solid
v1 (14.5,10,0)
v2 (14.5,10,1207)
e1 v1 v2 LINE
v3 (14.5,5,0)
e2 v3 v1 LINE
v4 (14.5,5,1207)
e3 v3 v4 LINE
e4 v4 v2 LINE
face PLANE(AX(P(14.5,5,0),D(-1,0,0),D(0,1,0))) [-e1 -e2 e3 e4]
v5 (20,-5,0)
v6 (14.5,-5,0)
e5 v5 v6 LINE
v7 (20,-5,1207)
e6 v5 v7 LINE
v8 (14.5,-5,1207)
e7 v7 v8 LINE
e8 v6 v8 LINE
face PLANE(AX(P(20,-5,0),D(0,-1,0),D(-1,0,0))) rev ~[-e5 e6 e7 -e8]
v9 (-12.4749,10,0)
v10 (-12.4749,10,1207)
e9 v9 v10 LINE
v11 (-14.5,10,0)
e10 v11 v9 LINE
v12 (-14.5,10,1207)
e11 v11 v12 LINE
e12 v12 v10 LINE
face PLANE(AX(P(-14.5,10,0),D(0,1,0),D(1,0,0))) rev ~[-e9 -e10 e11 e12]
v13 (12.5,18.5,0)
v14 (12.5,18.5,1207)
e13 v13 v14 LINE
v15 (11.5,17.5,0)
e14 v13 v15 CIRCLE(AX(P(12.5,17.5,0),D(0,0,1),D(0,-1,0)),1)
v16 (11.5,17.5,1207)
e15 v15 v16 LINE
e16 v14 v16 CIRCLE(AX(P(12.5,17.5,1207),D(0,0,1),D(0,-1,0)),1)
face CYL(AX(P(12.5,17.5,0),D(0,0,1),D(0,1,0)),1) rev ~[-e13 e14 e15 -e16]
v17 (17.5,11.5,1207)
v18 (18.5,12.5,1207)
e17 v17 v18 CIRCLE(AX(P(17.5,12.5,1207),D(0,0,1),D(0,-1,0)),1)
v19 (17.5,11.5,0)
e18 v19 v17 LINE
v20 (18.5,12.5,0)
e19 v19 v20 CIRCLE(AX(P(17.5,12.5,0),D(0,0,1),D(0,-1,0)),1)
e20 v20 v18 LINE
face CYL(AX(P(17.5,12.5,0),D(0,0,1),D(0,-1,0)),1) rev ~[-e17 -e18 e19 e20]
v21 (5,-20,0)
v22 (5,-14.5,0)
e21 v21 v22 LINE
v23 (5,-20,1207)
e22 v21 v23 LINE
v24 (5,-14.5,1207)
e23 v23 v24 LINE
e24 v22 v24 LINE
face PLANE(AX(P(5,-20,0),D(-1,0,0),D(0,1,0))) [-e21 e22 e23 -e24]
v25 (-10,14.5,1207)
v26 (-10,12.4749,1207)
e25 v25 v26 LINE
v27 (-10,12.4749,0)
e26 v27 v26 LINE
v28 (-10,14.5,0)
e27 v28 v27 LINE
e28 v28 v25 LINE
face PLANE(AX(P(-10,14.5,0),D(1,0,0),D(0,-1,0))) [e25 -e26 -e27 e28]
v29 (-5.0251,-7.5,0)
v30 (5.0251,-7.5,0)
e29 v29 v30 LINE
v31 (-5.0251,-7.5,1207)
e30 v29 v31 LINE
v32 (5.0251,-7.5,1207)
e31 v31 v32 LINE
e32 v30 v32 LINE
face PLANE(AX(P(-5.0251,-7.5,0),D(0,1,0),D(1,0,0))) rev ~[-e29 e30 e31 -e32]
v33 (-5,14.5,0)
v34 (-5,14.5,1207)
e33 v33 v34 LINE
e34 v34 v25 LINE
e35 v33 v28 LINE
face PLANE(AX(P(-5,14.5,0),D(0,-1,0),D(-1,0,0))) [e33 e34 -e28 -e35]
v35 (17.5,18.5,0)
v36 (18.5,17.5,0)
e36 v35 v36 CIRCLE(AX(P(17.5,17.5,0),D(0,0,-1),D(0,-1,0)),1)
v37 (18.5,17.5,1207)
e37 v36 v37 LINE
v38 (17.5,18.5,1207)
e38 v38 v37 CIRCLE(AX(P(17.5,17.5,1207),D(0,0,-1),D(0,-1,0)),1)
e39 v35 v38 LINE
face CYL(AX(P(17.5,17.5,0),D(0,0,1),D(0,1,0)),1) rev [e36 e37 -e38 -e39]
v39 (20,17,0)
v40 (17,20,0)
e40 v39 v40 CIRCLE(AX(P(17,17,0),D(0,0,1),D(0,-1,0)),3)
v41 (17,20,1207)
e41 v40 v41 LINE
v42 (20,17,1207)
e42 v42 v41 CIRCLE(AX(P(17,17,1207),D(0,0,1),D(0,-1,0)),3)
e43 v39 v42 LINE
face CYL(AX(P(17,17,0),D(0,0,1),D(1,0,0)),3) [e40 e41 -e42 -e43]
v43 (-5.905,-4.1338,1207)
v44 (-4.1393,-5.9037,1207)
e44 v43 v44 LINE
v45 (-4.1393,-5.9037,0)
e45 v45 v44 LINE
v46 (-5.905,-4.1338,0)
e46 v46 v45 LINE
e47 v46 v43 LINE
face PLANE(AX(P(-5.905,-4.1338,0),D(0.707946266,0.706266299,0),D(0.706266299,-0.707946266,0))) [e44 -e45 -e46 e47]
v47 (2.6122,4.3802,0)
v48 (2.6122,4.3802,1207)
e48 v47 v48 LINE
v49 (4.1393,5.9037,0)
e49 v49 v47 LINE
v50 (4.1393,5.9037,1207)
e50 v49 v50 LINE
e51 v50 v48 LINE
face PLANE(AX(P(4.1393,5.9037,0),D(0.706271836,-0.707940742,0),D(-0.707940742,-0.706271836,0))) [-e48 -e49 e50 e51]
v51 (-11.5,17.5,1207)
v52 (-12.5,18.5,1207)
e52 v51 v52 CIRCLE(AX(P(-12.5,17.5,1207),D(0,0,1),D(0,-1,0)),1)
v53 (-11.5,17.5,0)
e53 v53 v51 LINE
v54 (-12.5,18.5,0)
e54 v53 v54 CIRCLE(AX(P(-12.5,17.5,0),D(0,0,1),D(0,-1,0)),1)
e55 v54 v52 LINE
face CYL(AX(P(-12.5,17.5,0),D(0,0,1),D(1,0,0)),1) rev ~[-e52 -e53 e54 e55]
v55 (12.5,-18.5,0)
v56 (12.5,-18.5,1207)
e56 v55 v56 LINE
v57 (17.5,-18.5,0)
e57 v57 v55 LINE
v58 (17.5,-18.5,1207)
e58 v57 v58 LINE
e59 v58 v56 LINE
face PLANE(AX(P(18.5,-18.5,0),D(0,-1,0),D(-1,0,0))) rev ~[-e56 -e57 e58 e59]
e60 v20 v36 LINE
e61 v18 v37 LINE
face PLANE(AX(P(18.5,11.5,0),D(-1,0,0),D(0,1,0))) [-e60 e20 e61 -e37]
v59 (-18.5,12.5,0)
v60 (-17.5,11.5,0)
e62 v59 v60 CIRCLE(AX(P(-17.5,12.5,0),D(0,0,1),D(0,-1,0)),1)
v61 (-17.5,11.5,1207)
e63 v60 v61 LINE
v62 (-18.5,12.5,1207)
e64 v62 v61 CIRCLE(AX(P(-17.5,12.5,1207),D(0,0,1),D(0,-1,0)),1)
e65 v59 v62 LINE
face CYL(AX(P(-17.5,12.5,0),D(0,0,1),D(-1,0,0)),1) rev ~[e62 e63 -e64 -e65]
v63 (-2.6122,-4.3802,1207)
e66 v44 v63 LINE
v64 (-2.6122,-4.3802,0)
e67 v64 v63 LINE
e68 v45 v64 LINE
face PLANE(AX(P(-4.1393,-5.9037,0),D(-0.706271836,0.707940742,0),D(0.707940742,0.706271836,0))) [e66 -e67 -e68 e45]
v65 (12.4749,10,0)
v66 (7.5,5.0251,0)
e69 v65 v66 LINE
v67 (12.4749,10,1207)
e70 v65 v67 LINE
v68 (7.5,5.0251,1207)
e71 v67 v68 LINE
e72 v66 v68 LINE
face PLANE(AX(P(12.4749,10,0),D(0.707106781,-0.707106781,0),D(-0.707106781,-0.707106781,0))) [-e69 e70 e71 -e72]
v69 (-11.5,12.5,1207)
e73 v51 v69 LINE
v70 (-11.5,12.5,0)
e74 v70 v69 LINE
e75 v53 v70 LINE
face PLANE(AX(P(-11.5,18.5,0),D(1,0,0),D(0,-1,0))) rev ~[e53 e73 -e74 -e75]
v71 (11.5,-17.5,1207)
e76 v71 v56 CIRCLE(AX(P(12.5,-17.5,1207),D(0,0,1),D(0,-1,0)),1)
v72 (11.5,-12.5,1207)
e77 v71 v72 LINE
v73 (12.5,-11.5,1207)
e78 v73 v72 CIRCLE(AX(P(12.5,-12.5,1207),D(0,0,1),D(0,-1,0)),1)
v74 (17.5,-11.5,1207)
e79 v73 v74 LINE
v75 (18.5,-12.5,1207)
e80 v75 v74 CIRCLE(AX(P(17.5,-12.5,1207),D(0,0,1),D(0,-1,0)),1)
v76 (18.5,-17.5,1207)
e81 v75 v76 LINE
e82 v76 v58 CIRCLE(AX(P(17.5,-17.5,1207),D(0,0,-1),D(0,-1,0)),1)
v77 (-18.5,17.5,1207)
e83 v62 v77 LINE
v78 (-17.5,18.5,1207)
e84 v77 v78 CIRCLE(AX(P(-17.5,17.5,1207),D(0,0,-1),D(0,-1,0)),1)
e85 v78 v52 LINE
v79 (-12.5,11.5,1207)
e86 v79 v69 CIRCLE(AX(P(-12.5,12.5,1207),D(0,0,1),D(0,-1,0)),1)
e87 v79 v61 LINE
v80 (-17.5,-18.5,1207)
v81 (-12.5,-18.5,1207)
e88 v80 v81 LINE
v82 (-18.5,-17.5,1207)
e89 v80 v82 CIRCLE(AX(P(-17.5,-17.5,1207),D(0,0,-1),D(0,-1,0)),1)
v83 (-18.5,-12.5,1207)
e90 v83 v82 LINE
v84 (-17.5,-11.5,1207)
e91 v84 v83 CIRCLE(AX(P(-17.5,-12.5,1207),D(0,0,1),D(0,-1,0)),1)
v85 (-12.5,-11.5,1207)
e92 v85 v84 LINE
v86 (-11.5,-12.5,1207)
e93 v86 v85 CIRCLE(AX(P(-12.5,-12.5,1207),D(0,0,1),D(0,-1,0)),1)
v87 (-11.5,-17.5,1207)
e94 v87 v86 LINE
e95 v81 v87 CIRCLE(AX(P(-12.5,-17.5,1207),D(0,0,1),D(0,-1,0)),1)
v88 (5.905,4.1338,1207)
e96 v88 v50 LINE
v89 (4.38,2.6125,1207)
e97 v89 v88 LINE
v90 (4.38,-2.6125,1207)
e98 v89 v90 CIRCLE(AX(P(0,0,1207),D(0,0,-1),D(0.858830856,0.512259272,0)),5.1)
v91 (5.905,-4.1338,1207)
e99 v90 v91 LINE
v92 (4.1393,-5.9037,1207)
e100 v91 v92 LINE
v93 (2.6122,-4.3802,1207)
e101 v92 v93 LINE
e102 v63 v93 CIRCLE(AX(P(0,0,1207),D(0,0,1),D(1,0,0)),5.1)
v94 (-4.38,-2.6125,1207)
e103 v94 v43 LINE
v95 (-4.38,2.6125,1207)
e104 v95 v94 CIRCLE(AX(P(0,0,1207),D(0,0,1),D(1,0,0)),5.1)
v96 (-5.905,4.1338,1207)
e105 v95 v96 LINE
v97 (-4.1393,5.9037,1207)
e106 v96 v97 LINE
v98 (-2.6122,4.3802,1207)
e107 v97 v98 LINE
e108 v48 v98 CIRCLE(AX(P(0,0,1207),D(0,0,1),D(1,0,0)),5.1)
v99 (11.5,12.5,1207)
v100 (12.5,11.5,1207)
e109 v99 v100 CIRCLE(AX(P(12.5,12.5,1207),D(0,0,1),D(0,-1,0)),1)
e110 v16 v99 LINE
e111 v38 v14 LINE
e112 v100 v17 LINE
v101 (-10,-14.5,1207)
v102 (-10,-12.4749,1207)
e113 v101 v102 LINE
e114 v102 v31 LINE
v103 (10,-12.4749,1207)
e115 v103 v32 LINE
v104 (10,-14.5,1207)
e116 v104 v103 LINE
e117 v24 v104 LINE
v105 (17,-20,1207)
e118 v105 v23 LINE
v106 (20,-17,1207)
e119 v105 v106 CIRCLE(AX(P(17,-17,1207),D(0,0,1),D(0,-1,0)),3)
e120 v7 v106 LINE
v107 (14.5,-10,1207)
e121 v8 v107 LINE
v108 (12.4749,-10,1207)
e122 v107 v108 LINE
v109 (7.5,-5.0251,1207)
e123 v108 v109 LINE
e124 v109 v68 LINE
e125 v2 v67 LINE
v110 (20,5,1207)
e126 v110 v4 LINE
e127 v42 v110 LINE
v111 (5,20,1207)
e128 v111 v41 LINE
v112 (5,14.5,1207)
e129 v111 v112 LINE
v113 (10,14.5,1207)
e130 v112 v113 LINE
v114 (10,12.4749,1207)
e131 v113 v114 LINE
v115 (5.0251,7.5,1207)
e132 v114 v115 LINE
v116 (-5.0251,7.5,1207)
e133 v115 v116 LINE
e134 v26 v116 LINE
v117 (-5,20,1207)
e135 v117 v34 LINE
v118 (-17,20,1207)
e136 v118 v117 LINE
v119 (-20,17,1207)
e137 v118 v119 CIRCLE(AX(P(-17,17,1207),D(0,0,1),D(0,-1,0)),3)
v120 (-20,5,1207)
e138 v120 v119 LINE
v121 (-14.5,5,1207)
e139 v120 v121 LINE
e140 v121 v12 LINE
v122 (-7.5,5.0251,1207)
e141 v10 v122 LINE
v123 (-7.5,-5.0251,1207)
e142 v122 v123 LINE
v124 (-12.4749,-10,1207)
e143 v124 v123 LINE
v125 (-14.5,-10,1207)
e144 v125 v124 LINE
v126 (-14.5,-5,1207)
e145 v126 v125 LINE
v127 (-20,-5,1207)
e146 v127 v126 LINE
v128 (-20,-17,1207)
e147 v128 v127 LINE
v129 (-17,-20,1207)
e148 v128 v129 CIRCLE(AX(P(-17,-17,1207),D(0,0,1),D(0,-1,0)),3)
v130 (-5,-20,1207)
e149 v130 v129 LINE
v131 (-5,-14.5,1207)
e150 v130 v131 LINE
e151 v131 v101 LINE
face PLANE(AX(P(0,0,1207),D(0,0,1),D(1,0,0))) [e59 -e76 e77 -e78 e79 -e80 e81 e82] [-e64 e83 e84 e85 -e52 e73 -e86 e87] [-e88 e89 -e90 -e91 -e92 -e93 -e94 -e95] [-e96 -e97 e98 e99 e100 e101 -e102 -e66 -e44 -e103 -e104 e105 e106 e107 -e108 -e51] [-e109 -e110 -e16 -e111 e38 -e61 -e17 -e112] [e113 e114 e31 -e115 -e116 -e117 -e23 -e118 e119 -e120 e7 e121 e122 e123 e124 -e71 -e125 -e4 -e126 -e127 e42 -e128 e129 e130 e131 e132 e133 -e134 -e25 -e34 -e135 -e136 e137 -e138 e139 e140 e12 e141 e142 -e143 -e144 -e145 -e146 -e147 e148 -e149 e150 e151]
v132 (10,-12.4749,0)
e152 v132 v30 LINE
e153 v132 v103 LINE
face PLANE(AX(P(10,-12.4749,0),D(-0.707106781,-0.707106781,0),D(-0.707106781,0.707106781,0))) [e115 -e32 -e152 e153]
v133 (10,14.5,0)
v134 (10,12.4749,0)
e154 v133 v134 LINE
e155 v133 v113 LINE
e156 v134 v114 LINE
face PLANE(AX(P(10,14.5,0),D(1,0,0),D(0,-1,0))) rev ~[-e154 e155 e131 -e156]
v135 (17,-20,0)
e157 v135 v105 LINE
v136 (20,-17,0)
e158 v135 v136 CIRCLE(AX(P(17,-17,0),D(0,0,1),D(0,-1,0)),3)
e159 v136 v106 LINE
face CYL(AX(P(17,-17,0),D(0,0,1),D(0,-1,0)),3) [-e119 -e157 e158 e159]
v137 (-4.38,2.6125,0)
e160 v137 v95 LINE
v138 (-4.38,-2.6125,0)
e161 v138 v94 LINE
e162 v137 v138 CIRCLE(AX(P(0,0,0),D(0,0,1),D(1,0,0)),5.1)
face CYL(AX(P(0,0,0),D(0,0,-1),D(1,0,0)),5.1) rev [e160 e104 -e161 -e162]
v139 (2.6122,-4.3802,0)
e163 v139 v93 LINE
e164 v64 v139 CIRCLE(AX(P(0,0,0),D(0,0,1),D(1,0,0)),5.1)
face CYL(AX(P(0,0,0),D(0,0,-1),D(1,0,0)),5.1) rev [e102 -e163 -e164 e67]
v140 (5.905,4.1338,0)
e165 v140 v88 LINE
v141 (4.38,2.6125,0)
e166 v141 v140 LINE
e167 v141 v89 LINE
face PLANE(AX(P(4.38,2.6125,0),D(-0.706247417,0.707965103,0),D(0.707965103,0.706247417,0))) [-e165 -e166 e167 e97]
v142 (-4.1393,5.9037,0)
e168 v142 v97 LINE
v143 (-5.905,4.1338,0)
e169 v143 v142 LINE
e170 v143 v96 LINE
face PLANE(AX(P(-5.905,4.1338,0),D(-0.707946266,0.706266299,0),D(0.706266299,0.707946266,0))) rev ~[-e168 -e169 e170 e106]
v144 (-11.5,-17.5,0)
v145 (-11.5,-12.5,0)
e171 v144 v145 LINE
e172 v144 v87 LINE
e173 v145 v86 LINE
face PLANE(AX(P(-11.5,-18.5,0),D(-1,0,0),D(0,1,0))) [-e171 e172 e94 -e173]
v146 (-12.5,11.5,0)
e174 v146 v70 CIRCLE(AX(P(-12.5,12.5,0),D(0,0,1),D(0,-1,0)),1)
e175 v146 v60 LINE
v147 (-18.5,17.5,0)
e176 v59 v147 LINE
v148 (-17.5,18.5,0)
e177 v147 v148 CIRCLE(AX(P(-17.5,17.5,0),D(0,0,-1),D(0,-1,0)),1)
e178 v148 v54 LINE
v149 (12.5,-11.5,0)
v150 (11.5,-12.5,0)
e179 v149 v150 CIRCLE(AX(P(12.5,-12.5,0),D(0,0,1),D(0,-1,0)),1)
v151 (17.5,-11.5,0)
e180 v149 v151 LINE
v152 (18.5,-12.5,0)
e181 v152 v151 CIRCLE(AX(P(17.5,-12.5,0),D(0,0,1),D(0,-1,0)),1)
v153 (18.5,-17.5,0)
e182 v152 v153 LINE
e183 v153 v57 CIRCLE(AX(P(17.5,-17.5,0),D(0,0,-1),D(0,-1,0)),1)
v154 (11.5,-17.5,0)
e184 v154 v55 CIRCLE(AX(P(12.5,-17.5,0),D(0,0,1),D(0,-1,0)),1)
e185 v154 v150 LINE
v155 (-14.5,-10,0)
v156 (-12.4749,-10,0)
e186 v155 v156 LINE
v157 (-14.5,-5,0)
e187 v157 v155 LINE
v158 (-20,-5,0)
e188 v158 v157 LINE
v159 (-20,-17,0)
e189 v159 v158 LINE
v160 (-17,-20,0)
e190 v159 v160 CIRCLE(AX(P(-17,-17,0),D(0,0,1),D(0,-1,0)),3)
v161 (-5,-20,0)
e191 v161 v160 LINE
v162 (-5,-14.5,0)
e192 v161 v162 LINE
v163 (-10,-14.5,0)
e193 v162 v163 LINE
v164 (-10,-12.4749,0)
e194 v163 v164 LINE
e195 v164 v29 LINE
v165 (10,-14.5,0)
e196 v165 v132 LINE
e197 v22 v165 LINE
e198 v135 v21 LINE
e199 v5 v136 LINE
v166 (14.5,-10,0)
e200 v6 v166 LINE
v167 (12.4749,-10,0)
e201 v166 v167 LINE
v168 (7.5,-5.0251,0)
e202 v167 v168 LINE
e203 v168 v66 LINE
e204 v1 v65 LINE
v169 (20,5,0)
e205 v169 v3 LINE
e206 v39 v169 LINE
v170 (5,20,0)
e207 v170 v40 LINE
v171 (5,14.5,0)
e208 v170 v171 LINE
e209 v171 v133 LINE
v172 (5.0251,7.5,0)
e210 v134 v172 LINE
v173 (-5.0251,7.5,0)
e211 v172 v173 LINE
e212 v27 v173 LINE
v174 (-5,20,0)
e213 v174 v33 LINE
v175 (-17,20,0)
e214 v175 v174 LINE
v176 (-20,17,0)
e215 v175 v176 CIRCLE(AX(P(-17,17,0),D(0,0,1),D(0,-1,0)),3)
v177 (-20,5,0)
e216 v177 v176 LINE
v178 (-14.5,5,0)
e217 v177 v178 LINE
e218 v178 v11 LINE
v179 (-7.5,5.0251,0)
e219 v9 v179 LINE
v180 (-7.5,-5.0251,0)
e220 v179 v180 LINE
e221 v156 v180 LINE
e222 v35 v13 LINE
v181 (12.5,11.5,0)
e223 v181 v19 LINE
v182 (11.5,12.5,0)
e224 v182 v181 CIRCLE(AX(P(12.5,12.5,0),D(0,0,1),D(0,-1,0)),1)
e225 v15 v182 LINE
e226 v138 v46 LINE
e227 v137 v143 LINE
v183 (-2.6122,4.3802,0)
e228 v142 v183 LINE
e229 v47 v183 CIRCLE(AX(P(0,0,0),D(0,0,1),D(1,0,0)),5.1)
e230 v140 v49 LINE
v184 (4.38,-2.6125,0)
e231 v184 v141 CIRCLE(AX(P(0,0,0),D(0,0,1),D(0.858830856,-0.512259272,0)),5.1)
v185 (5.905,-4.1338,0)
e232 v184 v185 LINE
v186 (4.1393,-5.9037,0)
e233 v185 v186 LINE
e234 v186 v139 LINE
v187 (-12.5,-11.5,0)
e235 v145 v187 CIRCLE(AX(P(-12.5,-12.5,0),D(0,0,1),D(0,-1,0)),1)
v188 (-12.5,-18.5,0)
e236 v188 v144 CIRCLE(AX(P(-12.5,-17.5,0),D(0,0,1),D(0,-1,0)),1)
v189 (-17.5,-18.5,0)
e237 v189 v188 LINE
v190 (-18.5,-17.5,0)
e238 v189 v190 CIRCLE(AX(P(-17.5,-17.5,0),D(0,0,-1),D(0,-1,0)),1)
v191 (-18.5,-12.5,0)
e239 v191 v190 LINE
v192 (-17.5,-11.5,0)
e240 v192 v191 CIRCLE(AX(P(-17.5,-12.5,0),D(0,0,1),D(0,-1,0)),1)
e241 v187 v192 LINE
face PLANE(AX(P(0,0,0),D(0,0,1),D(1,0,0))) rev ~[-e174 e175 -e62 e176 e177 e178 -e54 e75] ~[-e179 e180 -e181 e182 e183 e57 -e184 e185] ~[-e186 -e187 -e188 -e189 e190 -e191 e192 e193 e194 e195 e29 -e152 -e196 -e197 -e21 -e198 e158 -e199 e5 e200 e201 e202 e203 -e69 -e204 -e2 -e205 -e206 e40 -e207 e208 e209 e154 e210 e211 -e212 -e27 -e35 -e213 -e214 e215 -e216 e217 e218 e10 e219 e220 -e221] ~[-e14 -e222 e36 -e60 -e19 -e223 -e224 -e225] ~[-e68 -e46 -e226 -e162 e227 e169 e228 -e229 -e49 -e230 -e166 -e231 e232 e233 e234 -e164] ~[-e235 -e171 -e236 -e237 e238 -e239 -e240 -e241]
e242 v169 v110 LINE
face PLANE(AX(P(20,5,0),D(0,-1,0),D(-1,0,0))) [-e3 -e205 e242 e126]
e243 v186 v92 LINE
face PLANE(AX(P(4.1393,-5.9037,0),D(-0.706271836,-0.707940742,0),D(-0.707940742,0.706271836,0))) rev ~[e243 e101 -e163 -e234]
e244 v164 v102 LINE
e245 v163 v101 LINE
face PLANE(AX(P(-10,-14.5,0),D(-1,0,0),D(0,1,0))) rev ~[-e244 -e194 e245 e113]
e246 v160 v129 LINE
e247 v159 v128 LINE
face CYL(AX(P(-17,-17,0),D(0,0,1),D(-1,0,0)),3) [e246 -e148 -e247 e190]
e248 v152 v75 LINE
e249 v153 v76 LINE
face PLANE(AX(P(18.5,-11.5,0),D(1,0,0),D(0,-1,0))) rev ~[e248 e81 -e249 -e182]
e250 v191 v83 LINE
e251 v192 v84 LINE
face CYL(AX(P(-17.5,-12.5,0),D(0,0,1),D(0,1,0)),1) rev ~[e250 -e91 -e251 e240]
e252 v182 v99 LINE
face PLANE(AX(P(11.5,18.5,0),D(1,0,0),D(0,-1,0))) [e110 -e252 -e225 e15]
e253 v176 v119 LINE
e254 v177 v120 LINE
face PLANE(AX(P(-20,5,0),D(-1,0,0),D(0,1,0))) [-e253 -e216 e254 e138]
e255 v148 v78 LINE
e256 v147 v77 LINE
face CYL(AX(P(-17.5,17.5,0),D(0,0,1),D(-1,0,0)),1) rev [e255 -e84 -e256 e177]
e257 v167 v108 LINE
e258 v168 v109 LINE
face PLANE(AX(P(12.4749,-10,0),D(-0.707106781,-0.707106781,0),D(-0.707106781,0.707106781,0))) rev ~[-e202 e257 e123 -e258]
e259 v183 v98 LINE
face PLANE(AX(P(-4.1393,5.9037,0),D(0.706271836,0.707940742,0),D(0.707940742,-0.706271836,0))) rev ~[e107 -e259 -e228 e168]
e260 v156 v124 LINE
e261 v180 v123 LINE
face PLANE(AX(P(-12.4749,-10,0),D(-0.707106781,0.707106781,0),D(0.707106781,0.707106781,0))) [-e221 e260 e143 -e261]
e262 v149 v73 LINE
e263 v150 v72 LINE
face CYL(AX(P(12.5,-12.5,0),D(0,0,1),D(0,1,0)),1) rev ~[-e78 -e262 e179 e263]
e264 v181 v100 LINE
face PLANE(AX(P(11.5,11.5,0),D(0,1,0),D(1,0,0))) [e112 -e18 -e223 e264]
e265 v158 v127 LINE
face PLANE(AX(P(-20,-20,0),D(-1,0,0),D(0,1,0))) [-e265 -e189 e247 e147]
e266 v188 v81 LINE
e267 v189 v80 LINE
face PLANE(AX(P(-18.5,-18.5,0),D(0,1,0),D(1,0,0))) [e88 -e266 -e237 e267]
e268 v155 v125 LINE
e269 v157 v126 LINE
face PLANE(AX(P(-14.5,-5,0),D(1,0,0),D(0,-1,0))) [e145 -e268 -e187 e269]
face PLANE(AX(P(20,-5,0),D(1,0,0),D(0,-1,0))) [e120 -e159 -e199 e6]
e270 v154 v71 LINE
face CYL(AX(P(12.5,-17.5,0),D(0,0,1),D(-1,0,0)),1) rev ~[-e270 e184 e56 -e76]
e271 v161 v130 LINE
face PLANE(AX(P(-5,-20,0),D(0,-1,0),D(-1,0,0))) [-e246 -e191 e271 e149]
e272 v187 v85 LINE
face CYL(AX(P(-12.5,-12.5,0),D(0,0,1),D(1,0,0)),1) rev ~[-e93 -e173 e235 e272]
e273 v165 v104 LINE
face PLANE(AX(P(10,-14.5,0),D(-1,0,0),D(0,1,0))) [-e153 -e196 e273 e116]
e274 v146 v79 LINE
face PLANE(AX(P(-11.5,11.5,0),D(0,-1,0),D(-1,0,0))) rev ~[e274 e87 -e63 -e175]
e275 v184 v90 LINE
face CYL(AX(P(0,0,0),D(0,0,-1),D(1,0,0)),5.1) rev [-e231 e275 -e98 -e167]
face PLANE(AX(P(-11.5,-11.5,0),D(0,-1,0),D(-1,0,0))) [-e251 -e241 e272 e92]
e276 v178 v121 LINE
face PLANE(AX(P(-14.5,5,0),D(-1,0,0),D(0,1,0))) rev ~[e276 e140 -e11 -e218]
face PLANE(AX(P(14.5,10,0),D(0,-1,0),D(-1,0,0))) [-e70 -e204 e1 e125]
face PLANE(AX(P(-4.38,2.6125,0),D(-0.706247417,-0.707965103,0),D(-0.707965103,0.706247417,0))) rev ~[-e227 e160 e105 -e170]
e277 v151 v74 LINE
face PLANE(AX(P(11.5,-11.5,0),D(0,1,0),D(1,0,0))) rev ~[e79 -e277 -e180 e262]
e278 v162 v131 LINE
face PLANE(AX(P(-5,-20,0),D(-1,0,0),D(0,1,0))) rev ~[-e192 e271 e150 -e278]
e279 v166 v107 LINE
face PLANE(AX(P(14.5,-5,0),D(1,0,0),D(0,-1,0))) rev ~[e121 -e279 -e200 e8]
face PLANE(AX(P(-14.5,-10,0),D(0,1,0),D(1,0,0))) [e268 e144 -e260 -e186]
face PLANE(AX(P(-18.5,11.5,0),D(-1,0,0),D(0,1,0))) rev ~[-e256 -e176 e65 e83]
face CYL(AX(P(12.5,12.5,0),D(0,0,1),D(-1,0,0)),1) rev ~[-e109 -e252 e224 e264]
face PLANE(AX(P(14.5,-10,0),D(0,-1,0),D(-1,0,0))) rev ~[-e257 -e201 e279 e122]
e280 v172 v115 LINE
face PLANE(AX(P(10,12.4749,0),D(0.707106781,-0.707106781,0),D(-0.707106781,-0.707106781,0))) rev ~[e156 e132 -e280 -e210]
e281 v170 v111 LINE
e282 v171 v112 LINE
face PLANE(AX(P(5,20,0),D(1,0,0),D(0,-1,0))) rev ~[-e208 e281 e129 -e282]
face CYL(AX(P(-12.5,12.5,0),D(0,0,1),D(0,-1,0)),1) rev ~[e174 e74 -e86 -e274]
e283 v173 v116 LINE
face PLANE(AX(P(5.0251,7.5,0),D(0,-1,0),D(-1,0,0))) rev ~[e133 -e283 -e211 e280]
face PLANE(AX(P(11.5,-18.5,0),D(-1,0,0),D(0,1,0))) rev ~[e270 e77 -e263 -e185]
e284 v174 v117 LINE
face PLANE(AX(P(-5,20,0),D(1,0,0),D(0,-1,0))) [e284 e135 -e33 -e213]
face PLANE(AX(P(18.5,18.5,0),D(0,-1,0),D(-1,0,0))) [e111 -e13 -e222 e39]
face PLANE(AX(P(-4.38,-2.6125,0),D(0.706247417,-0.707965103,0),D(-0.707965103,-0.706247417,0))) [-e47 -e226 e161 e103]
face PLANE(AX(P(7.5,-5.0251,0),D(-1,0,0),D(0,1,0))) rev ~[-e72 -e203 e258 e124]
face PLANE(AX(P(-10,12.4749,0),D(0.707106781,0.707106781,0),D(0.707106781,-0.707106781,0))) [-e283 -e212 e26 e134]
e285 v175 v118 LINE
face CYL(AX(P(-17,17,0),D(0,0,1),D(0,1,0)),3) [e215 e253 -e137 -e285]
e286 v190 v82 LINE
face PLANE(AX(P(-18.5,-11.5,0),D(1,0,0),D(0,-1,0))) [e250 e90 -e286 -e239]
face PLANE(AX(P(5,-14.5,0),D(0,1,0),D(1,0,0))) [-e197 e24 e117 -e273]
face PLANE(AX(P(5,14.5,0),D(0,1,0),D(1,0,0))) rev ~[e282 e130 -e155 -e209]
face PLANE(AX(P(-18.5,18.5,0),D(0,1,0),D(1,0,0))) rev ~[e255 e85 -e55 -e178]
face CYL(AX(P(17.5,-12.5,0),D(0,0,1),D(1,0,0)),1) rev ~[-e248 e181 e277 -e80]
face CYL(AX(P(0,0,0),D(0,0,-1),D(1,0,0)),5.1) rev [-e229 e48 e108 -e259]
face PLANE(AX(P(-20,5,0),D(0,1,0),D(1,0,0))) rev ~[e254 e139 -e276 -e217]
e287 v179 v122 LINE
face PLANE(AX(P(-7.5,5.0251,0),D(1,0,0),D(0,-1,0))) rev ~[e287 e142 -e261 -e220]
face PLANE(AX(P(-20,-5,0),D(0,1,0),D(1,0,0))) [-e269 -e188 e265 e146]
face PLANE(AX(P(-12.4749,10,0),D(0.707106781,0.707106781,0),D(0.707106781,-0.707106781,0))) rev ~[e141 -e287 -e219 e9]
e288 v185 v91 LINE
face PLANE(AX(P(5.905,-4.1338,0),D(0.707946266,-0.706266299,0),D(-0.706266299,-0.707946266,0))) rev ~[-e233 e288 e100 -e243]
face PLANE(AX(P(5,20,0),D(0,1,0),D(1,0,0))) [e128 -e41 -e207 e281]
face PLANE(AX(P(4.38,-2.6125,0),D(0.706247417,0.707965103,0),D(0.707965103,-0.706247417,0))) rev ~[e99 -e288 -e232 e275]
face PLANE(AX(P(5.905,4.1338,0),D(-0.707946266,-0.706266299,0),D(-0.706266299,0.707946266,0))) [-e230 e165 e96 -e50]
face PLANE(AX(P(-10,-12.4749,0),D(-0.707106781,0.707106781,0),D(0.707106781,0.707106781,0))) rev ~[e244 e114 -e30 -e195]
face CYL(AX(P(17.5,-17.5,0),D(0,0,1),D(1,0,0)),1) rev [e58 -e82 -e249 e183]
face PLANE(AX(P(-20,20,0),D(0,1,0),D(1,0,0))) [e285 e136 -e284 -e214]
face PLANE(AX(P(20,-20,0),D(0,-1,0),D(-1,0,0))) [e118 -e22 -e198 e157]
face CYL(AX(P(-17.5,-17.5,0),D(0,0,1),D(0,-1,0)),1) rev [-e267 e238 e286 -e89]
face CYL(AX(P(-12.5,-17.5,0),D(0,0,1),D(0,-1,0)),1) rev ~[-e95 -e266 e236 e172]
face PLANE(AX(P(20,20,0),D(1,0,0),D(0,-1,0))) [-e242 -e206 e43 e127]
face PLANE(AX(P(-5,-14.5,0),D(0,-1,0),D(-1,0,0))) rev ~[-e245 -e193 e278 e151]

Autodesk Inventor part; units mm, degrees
ref_plane "YZ Plane" through (0, 0, 0) normal (1, 0, 0) x (0, 1, 0)
ref_plane "XZ Plane" through (0, 0, 0) normal (0, 1, 0) x (-1, 0, 0)
ref_plane "XY Plane" through (0, 0, 0) normal (0, 0, 1) x (1, 0, 0)
sketch "T-Slot 4040 Base" plane through (0, 0, 0) normal (0, 0, 1) x (1, 0, 0)
  line L0 (-28, 0) -> (28, 0) construction
  line L1 (0, -28) -> (0, 28) construction
  circle A0 centre (0, 0) radius 5.1
  line L2 (-7.5, -7.5) -> (7.5, -7.5)
  line L3 (7.5, -7.5) -> (7.5, 7.5)
  line L4 (7.5, 7.5) -> (-7.5, 7.5)
  line L5 (-7.5, 7.5) -> (-7.5, -7.5)
  line L6 (-7.5, -7.5) -> (7.5, 7.5) construction
  line L7 (7.5, -7.5) -> (-7.5, 7.5) construction
  line L8 (-20, 20) -> (20, 20)
  line L9 (20, 20) -> (20, -20)
  line L10 (20, -20) -> (-20, -20)
  line L11 (-20, -20) -> (-20, 20)
  line L12 (-20, 20) -> (20, -20) construction
  line L13 (20, 20) -> (-20, -20) construction
  line L14 (20, 5) -> (14.5, 5)
  line L15 (14.5, 5) -> (14.5, 10)
  line L16 (14.5, 10) -> (12.4749, 10)
  line L17 (12.4749, 10) -> (7.5, 5.0251)
  line L18 (5, 20) -> (5, 14.5)
  line L19 (5, 14.5) -> (10, 14.5)
  line L20 (10, 14.5) -> (10, 12.4749)
  line L21 (10, 12.4749) -> (5.0251, 7.5)
  line L22 (18.5, 18.5) -> (11.5, 18.5)
  line L23 (11.5, 18.5) -> (11.5, 11.5)
  line L24 (11.5, 11.5) -> (18.5, 11.5)
  line L25 (18.5, 11.5) -> (18.5, 18.5)
  line L26 (18.5, 18.5) -> (11.5, 11.5) construction
  line L27 (11.5, 18.5) -> (18.5, 11.5) construction
  line L28 (3.0732, 1.3088) -> (4.38, 2.6125) construction
  line L29 (5.905, 4.1338) -> (4.1393, 5.9037)
  line L30 (4.1393, 5.9037) -> (2.6122, 4.3802)
  line L31 (1.3075, 3.0787) -> (3.0732, 1.3088) construction
  line L32 (3.0732, 1.3088) -> (4.1393, 5.9037) construction
  line L33 (5.905, 4.1338) -> (1.3075, 3.0787) construction
  line L34 (4.38, 2.6125) -> (5.905, 4.1338)
  line L35 (2.6122, 4.3802) -> (1.3075, 3.0787) construction
  line L36 (-20, 5) -> (-14.5, 5)
  line L37 (-14.5, 5) -> (-14.5, 10)
  line L38 (-14.5, 10) -> (-12.4749, 10)
  line L39 (-12.4749, 10) -> (-7.5, 5.0251)
  line L40 (-5, 20) -> (-5, 14.5)
  line L41 (-5, 14.5) -> (-10, 14.5)
  line L42 (-10, 14.5) -> (-10, 12.4749)
  line L43 (-10, 12.4749) -> (-5.0251, 7.5)
  line L44 (-18.5, 18.5) -> (-11.5, 18.5)
  line L45 (-11.5, 18.5) -> (-11.5, 11.5)
  line L46 (-11.5, 11.5) -> (-18.5, 11.5)
  line L47 (-18.5, 11.5) -> (-18.5, 18.5)
  line L48 (-5.905, 4.1338) -> (-4.1393, 5.9037)
  line L49 (-4.1393, 5.9037) -> (-2.6122, 4.3802)
  line L50 (-4.38, 2.6125) -> (-5.905, 4.1338)
  line L51 (7.5, -7.5) -> (-7.5, -7.5)
  line L52 (20, -5) -> (14.5, -5)
  line L53 (14.5, -5) -> (14.5, -10)
  line L54 (14.5, -10) -> (12.4749, -10)
  line L55 (12.4749, -10) -> (7.5, -5.0251)
  line L56 (5, -20) -> (5, -14.5)
  line L57 (5, -14.5) -> (10, -14.5)
  line L58 (10, -14.5) -> (10, -12.4749)
  line L59 (10, -12.4749) -> (5.0251, -7.5)
  line L60 (18.5, -18.5) -> (11.5, -18.5)
  line L61 (11.5, -18.5) -> (11.5, -11.5)
  line L62 (11.5, -11.5) -> (18.5, -11.5)
  line L63 (18.5, -11.5) -> (18.5, -18.5)
  line L64 (18.5, -18.5) -> (11.5, -11.5) construction
  line L65 (11.5, -18.5) -> (18.5, -11.5) construction
  line L66 (3.0732, -1.3088) -> (4.38, -2.6125) construction
  line L67 (5.905, -4.1338) -> (4.1393, -5.9037)
  line L68 (4.1393, -5.9037) -> (2.6122, -4.3802)
  line L69 (1.3075, -3.0787) -> (3.0732, -1.3088) construction
  line L70 (3.0732, -1.3088) -> (4.1393, -5.9037) construction
  line L71 (5.905, -4.1338) -> (1.3075, -3.0787) construction
  line L72 (4.38, -2.6125) -> (5.905, -4.1338)
  line L73 (2.6122, -4.3802) -> (1.3075, -3.0787) construction
  line L74 (-4.38, -2.6125) -> (-5.905, -4.1338)
  line L75 (-4.1393, -5.9037) -> (-2.6122, -4.3802)
  line L76 (-5.905, -4.1338) -> (-4.1393, -5.9037)
  line L77 (-12.4749, -10) -> (-7.5, -5.0251)
  line L78 (-10, -12.4749) -> (-5.0251, -7.5)
  line L79 (-10, -14.5) -> (-10, -12.4749)
  line L80 (-5, -14.5) -> (-10, -14.5)
  line L81 (-5, -20) -> (-5, -14.5)
  line L82 (-18.5, -18.5) -> (-11.5, -18.5)
  line L83 (-11.5, -18.5) -> (-11.5, -11.5)
  line L84 (-11.5, -11.5) -> (-18.5, -11.5)
  line L85 (-18.5, -11.5) -> (-18.5, -18.5)
  line L86 (-14.5, -10) -> (-12.4749, -10)
  line L87 (-14.5, -5) -> (-14.5, -10)
  line L88 (-20, -5) -> (-14.5, -5)
  point P0 (15, 15)
  point P1 (3.6062, 3.6062)
  point P2 (3.6062, 3.6062)
  point P3 (15, -15)
  point P4 (3.6062, -3.6062)
  point P5 (3.6062, -3.6062)
  dimension "d9" = 10.2
  dimension "d12" = 40
  dimension "d13" = 40
  dimension "d14" = 5.5
  dimension "d15" = 15
  dimension "d16" = 7
  dimension "d17" = 10
  dimension "d20" = 1.75
  dimension "d21" = 7
  dimension "d22" = 2
  dimension "d29" = 1.5
  dimension "d30" = 2.5
extrude "Extrusion1" add sketch "T-Slot 4040 Base" along normal blind 1207 contours L5 L4 L3 L2 | L2 L78 L79 L80 L81 L10 L11 L88 L87 L86 L77 L5 | L2 L3 L55 L54 L53 L52 L9 L10 L56 L57 L58 L59 | L39 L38 L37 L36 L11 L8 L40 L41 L42 L43 L4 L5 | L3 L4 L21 L20 L19 L18 L8 L9 L14 L15 L16 L17
fillet "Rundung1" radius 1 16 edges at (11.5, 18.5, 603.5) (18.5, 18.5, 603.5) (18.5, 11.5, 603.5) (11.5, 11.5, 603.5) (-11.5, 18.5, 603.5) (-18.5, 18.5, 603.5) (-18.5, 11.5, 603.5) (-11.5, 11.5, 603.5) (-18.5, -11.5, 603.5) (-11.5, -11.5, 603.5) (-11.5, -18.5, 603.5) (-18.5, -18.5, 603.5) (11.5, -18.5, 603.5) (11.5, -11.5, 603.5) (18.5, -11.5, 603.5) (18.5, -18.5, 603.5)
fillet "Rundung2" radius 3 4 edges at (20, 20, 603.5) (20, -20, 603.5) (-20, -20, 603.5) (-20, 20, 603.5)
properties part number "T-SLOT 4040 B-Type 1207mm"
